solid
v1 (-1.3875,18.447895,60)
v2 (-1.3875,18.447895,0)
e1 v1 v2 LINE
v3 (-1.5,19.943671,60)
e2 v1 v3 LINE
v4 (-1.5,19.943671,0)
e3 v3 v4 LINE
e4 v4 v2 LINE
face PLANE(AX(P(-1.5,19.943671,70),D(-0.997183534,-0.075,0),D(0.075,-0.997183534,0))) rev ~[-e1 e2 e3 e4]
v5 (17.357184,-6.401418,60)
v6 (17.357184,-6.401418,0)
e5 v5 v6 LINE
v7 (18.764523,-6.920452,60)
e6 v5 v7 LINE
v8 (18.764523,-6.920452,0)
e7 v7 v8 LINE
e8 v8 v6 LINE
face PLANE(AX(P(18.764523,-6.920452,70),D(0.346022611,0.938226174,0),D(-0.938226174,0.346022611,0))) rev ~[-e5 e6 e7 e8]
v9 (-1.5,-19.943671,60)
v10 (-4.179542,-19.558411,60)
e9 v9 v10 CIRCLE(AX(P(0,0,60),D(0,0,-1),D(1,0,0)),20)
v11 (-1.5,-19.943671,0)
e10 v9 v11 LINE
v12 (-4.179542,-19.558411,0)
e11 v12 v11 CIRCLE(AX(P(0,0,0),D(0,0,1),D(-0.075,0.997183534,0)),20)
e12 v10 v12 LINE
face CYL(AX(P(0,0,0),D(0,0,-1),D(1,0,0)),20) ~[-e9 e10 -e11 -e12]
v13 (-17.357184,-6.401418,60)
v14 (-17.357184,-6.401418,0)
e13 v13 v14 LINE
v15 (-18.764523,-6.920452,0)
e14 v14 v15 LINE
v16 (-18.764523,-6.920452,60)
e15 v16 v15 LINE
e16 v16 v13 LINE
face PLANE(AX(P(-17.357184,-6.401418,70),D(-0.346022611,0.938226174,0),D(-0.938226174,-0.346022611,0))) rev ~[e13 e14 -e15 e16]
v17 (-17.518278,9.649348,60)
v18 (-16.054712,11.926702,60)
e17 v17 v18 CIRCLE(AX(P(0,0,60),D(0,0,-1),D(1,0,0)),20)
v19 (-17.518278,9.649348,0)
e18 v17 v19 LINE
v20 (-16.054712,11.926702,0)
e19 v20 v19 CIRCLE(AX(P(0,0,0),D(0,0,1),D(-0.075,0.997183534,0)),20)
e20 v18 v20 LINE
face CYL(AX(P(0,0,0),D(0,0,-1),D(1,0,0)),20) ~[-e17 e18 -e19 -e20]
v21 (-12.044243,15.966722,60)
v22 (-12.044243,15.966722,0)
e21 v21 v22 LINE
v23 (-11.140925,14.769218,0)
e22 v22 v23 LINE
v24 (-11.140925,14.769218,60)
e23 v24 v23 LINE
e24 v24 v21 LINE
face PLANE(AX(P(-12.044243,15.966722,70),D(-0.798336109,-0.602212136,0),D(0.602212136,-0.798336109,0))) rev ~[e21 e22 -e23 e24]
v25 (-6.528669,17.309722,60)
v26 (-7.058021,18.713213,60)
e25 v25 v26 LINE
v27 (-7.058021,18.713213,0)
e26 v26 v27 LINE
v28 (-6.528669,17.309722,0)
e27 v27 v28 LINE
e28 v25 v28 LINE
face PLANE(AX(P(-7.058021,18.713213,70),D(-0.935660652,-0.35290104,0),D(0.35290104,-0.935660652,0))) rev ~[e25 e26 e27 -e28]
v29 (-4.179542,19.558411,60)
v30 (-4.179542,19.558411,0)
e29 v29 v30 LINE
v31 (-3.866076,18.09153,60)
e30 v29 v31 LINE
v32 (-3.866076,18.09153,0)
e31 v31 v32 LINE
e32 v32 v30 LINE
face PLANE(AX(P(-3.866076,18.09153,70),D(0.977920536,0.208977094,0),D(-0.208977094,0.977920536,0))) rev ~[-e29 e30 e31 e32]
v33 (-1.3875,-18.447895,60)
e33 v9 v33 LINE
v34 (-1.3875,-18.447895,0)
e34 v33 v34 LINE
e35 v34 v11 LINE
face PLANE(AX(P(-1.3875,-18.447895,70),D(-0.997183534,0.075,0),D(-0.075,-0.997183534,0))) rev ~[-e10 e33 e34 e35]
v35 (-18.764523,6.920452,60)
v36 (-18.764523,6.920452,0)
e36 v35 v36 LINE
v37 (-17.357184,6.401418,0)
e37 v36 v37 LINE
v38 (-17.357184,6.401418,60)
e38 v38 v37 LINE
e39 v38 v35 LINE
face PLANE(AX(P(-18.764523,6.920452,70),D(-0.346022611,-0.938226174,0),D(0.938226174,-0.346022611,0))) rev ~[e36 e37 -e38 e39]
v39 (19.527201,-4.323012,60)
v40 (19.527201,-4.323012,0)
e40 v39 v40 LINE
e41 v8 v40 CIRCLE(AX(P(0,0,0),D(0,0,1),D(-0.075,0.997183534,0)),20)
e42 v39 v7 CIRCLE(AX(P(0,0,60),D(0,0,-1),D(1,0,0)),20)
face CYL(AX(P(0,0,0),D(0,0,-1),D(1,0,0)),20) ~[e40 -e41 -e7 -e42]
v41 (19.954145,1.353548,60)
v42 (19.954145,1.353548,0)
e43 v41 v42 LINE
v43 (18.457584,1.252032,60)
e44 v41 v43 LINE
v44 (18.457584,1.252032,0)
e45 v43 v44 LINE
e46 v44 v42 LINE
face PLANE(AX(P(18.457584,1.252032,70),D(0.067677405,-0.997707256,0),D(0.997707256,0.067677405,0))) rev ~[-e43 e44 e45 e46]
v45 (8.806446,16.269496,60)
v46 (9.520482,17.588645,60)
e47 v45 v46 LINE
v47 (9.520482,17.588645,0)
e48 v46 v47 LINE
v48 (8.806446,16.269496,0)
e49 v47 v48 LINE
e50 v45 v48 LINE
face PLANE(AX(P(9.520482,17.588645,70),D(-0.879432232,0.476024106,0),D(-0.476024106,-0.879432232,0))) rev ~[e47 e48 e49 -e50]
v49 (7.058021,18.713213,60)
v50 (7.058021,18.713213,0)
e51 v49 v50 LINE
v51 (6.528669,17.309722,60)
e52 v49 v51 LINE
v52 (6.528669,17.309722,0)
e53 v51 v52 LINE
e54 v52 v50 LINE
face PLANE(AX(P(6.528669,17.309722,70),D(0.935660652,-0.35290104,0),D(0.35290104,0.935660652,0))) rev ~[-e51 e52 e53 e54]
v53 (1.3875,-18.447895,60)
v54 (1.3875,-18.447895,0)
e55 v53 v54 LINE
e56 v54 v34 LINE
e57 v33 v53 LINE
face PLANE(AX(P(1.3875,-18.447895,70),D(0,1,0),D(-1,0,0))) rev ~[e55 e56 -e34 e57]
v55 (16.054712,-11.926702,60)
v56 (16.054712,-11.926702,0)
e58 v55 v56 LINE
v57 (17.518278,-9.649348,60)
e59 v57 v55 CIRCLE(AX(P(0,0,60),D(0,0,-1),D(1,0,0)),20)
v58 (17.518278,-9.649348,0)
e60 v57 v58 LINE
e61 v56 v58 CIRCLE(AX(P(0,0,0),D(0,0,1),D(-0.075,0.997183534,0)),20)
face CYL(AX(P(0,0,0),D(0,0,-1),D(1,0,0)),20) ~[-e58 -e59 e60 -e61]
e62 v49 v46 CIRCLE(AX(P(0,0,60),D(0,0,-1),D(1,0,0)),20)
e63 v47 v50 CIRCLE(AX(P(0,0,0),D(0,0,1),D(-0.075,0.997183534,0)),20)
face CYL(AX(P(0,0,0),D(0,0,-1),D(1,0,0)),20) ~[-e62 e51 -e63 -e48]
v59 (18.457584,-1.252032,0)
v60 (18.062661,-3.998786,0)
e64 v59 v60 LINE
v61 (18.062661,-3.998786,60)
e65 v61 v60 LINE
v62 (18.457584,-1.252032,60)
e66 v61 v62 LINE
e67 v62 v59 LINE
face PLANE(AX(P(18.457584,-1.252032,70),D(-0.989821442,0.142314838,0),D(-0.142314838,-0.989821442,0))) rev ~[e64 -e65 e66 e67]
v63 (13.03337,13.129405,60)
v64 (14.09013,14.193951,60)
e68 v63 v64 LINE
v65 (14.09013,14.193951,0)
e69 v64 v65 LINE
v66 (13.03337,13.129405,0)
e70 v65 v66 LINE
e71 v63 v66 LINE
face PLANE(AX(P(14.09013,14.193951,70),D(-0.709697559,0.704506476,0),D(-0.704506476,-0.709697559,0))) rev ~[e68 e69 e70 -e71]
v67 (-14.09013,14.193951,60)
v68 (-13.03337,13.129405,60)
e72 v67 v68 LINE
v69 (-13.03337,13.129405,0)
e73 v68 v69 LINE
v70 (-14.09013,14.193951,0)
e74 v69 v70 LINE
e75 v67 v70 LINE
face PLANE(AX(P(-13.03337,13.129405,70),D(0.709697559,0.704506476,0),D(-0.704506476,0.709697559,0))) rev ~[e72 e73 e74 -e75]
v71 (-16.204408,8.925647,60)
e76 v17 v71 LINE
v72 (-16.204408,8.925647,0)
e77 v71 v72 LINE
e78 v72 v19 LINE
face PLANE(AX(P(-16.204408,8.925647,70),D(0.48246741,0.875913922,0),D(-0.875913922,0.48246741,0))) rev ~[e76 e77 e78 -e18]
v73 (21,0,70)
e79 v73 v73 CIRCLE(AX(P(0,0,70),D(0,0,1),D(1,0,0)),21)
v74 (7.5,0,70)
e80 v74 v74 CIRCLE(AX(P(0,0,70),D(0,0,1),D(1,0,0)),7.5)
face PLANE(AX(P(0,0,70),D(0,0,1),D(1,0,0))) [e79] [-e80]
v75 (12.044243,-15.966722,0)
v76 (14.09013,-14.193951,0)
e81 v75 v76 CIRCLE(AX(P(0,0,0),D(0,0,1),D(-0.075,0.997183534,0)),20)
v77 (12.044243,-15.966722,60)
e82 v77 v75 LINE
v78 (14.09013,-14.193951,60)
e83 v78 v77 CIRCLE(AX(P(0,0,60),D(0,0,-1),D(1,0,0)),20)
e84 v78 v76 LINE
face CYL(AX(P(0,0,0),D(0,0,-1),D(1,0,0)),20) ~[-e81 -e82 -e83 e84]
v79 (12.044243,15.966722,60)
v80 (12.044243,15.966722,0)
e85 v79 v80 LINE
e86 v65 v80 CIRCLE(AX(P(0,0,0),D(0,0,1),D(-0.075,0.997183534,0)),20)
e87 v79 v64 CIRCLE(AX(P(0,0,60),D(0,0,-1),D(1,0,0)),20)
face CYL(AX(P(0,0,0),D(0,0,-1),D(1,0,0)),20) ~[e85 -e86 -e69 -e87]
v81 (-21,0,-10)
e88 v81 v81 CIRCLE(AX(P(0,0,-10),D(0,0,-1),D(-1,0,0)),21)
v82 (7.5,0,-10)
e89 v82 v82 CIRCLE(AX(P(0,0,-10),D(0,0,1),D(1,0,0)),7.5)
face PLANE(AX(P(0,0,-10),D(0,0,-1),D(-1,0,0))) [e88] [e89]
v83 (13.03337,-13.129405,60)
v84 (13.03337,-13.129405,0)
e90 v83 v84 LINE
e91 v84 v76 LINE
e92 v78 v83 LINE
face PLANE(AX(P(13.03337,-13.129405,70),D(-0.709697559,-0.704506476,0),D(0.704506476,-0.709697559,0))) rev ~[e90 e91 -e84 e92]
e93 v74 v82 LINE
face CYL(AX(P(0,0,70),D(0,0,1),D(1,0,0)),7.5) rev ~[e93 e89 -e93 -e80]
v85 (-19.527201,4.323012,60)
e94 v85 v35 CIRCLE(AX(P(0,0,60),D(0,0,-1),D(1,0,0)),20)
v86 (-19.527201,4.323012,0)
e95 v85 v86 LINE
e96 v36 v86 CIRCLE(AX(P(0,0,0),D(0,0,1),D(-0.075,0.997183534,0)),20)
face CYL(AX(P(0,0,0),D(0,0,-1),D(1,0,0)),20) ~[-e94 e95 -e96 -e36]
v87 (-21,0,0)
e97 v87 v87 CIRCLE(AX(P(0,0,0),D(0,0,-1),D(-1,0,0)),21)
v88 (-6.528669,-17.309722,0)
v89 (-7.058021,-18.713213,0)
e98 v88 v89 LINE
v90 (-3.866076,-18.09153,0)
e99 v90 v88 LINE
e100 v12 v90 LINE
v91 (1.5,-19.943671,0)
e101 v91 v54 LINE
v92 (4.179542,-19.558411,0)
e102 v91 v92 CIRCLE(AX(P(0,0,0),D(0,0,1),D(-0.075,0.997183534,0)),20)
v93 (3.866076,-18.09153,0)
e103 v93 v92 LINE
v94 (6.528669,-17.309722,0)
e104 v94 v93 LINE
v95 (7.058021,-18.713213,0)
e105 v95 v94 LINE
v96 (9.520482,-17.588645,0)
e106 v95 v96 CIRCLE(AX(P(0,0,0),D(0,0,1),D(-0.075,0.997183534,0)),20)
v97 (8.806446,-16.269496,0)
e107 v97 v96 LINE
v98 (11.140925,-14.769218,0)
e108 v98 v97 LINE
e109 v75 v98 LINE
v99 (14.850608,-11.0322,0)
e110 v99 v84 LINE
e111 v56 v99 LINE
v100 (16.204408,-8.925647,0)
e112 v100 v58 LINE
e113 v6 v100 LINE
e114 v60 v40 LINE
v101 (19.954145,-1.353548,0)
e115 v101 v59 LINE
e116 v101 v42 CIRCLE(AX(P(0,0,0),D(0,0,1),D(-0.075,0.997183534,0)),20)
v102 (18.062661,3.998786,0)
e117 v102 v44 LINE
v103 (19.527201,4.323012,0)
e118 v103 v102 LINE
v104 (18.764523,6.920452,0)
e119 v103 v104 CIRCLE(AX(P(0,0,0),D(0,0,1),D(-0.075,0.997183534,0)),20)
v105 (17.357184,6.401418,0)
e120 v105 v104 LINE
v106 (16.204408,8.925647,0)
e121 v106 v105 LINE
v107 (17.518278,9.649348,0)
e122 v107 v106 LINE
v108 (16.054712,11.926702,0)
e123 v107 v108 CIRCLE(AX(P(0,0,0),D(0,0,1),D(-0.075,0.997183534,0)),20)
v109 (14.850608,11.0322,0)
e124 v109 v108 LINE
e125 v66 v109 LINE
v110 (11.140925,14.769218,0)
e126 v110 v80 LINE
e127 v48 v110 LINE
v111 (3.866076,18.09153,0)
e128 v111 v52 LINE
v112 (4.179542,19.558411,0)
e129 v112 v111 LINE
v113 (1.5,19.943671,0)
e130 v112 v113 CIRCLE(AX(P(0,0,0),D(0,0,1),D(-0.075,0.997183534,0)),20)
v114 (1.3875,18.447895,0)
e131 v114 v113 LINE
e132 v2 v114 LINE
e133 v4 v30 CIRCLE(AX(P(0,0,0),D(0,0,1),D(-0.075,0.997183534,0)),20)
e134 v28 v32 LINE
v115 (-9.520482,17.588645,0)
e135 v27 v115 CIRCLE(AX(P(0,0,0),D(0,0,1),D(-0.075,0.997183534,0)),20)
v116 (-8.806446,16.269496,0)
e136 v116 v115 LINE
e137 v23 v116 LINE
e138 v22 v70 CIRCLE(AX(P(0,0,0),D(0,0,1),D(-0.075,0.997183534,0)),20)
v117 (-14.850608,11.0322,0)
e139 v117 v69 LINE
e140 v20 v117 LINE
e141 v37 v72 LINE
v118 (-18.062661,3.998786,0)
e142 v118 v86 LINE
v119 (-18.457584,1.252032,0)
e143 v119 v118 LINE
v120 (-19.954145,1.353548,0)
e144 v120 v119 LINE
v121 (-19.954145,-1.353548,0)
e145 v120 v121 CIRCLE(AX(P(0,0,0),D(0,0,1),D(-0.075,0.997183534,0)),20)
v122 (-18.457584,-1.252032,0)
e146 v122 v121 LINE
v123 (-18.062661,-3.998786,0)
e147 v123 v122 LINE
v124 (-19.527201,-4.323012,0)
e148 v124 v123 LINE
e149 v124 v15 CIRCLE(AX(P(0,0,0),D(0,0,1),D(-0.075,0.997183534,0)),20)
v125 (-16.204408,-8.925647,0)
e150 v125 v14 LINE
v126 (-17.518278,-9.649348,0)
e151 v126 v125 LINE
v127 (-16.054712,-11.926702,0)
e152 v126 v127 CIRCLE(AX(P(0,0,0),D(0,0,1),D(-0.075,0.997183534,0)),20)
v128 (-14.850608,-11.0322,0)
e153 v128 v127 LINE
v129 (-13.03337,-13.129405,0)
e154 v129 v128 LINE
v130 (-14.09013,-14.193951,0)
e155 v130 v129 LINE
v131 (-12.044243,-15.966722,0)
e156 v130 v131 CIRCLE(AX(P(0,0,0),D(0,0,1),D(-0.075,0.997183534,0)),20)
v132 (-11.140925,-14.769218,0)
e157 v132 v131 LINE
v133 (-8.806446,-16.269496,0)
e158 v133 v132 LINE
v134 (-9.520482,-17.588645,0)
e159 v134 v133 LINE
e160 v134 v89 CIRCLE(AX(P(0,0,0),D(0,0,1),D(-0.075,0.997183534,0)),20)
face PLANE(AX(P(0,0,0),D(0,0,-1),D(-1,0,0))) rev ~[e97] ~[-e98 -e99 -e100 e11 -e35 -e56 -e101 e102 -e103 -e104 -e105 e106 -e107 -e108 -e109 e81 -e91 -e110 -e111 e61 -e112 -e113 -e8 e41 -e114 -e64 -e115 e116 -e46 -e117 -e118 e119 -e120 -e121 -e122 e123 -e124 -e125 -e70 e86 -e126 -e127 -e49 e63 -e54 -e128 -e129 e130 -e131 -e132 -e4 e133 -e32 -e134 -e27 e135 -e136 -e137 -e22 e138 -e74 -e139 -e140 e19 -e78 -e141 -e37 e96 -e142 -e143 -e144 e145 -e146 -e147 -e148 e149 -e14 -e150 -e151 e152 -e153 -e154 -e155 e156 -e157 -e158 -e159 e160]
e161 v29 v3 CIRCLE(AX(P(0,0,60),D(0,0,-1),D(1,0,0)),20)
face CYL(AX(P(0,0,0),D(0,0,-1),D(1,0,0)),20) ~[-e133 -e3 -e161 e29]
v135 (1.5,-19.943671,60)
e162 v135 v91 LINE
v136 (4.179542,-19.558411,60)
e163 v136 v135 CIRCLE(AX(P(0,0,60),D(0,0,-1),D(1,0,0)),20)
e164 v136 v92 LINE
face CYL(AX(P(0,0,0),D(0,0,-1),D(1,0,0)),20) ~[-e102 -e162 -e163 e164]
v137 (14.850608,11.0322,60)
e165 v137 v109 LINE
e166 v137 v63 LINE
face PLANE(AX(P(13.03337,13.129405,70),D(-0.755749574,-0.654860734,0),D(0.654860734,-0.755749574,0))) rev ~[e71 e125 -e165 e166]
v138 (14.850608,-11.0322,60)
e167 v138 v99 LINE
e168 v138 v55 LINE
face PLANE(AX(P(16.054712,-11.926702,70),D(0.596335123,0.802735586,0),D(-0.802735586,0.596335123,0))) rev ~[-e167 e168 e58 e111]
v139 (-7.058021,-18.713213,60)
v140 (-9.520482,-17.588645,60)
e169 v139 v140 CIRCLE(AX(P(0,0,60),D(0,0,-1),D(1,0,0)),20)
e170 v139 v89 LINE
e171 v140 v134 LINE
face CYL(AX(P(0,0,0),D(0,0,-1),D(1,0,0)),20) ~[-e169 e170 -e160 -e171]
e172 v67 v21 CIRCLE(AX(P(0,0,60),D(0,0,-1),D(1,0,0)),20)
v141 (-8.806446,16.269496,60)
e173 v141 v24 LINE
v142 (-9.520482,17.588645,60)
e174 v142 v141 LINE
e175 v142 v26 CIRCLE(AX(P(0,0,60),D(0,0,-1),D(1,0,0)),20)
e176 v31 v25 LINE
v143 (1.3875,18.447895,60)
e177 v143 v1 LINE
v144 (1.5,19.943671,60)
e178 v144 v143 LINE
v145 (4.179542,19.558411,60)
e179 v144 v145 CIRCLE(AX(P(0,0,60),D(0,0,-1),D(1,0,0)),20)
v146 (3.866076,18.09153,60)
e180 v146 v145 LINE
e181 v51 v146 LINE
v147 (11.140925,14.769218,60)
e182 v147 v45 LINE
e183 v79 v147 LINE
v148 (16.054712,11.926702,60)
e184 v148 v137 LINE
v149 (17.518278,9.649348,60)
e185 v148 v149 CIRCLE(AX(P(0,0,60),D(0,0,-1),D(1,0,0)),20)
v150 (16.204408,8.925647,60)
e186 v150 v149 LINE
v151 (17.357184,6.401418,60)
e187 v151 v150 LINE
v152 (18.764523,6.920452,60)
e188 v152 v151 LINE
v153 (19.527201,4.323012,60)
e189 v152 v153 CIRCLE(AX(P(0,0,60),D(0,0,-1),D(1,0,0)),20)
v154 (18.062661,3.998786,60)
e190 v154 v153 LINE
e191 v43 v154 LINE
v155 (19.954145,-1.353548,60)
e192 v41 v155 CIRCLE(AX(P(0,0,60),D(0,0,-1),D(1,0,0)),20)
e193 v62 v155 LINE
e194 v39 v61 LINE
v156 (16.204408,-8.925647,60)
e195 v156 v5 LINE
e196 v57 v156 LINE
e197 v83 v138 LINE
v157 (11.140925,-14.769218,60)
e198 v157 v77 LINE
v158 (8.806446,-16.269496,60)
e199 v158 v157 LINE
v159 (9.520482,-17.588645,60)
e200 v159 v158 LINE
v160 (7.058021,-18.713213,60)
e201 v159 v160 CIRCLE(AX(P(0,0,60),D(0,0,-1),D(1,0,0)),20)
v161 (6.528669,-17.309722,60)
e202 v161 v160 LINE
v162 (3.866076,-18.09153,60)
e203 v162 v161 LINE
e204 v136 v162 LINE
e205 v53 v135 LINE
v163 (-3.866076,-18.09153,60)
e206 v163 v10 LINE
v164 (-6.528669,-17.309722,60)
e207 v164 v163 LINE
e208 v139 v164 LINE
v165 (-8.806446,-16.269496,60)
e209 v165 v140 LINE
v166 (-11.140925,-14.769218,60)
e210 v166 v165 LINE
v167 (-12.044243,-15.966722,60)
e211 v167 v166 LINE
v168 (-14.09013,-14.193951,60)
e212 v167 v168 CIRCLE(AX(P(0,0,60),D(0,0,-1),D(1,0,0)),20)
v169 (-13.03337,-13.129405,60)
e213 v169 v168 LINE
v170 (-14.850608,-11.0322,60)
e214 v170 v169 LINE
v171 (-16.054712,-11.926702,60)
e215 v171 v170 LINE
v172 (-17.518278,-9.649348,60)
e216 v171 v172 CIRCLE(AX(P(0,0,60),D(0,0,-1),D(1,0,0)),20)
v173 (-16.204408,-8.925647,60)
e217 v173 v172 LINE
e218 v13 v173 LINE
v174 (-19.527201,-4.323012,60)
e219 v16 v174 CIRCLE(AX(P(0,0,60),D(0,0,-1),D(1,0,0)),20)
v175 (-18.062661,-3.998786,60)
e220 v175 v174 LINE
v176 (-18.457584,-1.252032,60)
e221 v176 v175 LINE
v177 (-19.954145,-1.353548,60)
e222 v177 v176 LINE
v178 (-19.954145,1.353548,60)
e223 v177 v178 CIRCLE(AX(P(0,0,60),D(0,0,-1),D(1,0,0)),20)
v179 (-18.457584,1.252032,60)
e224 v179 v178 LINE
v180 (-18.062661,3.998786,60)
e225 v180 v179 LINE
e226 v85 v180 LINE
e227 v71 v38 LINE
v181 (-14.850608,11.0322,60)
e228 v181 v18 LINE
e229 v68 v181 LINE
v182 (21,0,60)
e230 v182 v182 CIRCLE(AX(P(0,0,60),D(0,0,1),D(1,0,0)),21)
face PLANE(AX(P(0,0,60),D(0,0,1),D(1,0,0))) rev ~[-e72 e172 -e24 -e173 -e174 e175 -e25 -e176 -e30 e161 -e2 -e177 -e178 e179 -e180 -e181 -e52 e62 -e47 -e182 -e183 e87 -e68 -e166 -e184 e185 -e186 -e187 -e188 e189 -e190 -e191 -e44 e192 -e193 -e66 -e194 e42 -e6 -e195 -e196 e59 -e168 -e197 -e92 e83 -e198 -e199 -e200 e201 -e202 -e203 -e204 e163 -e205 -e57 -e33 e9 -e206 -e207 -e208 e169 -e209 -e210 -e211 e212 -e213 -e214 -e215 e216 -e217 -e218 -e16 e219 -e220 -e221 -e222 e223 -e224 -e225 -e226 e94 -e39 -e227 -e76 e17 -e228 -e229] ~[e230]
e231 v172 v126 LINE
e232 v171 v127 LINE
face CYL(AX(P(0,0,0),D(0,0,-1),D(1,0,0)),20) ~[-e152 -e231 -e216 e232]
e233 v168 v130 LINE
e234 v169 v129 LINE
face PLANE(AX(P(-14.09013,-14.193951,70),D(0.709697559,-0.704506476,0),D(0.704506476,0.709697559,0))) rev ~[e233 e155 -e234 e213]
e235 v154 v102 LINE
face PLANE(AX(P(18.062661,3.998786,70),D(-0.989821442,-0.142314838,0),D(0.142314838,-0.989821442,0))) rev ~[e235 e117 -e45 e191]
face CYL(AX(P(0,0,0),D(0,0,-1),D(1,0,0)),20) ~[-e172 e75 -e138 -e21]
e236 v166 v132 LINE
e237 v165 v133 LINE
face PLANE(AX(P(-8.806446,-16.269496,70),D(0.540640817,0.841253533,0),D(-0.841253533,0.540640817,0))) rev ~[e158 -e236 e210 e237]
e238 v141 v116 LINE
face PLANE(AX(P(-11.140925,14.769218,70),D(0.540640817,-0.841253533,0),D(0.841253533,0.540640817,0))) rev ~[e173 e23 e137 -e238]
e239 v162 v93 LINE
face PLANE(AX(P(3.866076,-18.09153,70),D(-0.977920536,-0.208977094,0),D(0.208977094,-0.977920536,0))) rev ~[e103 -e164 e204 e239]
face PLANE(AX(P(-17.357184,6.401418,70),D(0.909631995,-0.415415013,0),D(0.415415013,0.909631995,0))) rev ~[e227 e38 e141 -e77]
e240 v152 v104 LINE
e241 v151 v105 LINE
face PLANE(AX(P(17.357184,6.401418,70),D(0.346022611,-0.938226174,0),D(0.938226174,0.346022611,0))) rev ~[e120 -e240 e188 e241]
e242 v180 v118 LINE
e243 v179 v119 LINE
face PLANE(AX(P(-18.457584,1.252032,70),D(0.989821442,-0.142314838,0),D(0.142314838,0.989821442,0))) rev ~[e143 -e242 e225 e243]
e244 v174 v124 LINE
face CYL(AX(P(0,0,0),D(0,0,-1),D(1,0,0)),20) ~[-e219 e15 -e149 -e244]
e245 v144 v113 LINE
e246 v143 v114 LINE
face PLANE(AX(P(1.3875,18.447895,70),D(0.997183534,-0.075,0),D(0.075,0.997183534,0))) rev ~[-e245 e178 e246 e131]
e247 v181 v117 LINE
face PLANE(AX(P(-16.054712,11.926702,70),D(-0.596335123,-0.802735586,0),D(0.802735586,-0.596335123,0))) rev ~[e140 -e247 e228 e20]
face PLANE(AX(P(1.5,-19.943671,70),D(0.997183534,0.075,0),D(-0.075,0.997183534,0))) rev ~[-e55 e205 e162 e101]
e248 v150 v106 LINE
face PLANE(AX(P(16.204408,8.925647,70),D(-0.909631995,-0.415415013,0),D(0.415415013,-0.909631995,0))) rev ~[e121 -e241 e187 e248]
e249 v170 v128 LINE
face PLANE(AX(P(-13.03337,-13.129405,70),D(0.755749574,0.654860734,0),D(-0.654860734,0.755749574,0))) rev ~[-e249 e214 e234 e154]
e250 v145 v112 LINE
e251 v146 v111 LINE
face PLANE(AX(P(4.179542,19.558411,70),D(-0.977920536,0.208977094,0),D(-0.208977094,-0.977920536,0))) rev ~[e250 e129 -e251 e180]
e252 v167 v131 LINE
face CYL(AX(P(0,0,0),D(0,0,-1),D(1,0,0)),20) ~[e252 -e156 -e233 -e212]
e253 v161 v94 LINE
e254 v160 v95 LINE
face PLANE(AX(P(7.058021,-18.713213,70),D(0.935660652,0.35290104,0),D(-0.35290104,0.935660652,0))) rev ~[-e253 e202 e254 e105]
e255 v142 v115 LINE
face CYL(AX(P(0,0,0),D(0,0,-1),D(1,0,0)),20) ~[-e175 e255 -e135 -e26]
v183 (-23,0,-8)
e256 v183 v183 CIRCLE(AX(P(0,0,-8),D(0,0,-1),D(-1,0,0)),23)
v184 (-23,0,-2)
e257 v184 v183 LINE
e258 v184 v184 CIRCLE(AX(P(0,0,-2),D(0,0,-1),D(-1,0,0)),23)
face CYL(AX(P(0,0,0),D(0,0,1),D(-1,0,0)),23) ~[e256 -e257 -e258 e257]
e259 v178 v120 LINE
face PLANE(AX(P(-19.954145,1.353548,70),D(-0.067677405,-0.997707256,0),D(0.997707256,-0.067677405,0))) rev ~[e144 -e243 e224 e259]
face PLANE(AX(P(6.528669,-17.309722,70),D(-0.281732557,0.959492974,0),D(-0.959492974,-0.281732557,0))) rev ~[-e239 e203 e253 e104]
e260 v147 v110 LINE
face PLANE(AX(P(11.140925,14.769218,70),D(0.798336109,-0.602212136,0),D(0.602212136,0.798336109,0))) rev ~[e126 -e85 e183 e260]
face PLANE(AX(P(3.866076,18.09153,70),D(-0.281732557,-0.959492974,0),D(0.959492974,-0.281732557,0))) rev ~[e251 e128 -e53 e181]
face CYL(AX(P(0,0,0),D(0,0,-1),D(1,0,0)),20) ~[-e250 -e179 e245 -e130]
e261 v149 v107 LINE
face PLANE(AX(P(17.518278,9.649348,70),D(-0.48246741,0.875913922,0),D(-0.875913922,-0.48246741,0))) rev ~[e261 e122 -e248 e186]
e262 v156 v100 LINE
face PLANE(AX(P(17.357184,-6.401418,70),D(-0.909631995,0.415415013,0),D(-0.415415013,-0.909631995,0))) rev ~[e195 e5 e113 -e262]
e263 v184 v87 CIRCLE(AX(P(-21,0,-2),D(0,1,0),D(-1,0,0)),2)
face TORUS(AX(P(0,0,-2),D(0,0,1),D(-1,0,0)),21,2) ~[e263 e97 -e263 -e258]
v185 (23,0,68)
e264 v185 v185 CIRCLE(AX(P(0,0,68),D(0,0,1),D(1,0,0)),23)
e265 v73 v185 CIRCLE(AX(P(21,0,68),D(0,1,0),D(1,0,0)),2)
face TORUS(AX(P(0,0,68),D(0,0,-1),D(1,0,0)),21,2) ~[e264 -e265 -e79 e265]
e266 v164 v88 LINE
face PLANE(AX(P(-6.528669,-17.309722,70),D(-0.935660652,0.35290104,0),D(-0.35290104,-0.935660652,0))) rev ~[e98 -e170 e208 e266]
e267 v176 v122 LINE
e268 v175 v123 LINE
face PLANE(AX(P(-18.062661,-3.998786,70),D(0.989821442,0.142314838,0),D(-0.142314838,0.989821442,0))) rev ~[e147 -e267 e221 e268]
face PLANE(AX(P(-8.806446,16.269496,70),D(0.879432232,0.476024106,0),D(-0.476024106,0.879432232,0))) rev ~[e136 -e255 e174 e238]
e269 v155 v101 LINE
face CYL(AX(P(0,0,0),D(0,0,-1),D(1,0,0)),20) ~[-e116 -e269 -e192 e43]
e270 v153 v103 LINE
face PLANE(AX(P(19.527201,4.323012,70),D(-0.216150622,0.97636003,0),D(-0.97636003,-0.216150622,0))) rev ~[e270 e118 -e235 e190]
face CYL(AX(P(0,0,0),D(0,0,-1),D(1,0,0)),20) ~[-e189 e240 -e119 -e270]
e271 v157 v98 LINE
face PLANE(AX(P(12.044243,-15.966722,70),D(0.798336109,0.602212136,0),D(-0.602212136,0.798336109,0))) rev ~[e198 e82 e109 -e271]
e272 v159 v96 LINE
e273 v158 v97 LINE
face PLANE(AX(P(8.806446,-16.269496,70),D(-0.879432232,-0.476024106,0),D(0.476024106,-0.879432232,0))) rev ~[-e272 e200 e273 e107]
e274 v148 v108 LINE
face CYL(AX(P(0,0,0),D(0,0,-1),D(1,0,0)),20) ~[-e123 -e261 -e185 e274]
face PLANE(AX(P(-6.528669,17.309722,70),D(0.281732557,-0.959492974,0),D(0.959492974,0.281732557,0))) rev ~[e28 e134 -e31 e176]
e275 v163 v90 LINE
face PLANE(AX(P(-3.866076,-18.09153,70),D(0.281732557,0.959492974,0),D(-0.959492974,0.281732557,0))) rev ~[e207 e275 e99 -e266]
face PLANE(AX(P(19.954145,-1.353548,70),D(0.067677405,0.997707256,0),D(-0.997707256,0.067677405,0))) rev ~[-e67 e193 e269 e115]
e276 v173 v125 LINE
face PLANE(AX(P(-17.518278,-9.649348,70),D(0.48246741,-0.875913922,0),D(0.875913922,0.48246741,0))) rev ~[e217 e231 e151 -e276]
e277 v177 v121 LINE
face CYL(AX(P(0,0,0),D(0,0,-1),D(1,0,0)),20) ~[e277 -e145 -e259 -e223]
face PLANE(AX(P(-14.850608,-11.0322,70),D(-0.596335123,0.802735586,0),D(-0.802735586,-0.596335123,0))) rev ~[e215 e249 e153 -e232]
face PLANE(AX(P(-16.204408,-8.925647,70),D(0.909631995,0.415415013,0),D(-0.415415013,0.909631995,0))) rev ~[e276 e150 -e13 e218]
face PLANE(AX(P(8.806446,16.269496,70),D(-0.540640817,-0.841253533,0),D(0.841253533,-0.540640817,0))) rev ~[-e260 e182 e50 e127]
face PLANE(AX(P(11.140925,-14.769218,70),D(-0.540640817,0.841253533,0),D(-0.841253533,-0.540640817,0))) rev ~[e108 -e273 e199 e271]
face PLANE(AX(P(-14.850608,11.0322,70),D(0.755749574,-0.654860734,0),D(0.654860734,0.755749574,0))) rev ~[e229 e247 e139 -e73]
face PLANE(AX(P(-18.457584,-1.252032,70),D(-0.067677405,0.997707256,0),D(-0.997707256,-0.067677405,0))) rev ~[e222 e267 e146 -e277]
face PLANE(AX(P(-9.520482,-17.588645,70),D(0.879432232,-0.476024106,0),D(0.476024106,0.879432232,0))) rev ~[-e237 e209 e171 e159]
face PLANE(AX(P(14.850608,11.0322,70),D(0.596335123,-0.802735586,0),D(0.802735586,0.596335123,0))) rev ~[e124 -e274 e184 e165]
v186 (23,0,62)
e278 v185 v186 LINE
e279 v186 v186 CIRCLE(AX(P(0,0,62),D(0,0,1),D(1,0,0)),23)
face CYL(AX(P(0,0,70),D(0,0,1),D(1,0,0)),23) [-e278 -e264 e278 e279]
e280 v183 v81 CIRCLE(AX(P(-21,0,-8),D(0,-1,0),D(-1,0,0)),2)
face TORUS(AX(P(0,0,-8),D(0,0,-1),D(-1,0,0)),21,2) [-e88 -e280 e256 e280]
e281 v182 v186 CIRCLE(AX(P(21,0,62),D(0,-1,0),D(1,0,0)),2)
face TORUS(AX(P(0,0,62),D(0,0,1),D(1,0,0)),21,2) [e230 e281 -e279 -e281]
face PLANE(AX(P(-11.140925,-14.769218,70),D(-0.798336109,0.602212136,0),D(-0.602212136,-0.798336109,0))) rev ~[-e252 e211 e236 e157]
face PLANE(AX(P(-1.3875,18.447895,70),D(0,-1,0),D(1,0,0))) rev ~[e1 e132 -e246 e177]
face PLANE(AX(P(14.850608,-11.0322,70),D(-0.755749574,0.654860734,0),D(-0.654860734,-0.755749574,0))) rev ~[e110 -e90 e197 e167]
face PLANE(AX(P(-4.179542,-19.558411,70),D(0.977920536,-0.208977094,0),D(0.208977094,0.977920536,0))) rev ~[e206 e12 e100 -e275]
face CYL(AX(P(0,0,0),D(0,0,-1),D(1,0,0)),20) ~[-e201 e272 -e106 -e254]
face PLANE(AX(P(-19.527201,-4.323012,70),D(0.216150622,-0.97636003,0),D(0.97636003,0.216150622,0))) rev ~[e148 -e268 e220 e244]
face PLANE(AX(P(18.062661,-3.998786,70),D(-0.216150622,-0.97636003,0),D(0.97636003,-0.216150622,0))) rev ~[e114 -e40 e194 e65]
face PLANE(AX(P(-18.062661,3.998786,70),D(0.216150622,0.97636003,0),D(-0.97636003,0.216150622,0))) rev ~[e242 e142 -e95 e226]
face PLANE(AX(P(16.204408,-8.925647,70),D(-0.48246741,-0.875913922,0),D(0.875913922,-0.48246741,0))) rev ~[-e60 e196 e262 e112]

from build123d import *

# Parameters (mm, degrees)
SKETCH1_R           = 20
BOSS_EXTRUDE1_DEPTH = 70
CUT_EXTRUDE1_DEPTH  = 71
CIRPATTERN1_COUNT   = 22
SKETCH3_R           = 23
BOSS_EXTRUDE2_DEPTH = 10
SKETCH5_R           = 23
BOSS_EXTRUDE3_DEPTH = 10
SKETCH6_R           = 7.5
CUT_EXTRUDE2_DEPTH  = 81
FILLET1_R           = 2


with BuildPart() as part:
    # Sketch1 → Boss-Extrude1 (new body)
    with BuildSketch(Plane.XY):
        Circle(SKETCH1_R)
    extrude(amount=BOSS_EXTRUDE1_DEPTH)

    # Sketch2 → Cut-Extrude1 (cut, through all)
    with BuildSketch(Plane.XY.offset(70)):
        with BuildLine():
            Line((-1.3875, 18.447895375), (1.3875, 18.447895375))
            Line((1.3875, 18.447895375), (1.5, 19.943670675))
            ThreePointArc((1.5, 19.943670675), (0, 20), (-1.5, 19.943670675))
            Line((-1.5, 19.943670675), (-1.3875, 18.447895375))
        make_face()
    cut_extrude1 = extrude(amount=-CUT_EXTRUDE1_DEPTH, mode=Mode.SUBTRACT)

    # CirPattern1: Cut-Extrude1 ×22 about axis
    cirpattern1_axis = Axis((0, 0, 0), (0, 0, 1))
    for i in range(1, CIRPATTERN1_COUNT):
        add(cut_extrude1.rotate(cirpattern1_axis, i * 360 / CIRPATTERN1_COUNT), mode=Mode.SUBTRACT)

    # Sketch3 → Boss-Extrude2 (add)
    with BuildSketch(Plane.XY.offset(70)):
        Circle(SKETCH3_R)
    extrude(amount=-BOSS_EXTRUDE2_DEPTH)

    # Sketch5 → Boss-Extrude3 (add)
    with BuildSketch(Plane(origin=(0, 0, 0), x_dir=(-1, 0, 0), z_dir=(0, 0, -1))):
        Circle(SKETCH5_R)
    extrude(amount=BOSS_EXTRUDE3_DEPTH)

    # Sketch6 → Cut-Extrude2 (cut, through all)
    with BuildSketch(Plane.XY.offset(70)):
        Circle(SKETCH6_R)
    extrude(amount=-CUT_EXTRUDE2_DEPTH, mode=Mode.SUBTRACT)

    # Fillet1
    fillet1_edges = [part.edges().sort_by_distance(p)[0] for p in [
        (-23, 0, 70),
        (-23, 0, 60),
        (23, 0, 0),
        (23, 0, -10),
    ]]
    fillet(fillet1_edges, radius=FILLET1_R)


solid = part.part
